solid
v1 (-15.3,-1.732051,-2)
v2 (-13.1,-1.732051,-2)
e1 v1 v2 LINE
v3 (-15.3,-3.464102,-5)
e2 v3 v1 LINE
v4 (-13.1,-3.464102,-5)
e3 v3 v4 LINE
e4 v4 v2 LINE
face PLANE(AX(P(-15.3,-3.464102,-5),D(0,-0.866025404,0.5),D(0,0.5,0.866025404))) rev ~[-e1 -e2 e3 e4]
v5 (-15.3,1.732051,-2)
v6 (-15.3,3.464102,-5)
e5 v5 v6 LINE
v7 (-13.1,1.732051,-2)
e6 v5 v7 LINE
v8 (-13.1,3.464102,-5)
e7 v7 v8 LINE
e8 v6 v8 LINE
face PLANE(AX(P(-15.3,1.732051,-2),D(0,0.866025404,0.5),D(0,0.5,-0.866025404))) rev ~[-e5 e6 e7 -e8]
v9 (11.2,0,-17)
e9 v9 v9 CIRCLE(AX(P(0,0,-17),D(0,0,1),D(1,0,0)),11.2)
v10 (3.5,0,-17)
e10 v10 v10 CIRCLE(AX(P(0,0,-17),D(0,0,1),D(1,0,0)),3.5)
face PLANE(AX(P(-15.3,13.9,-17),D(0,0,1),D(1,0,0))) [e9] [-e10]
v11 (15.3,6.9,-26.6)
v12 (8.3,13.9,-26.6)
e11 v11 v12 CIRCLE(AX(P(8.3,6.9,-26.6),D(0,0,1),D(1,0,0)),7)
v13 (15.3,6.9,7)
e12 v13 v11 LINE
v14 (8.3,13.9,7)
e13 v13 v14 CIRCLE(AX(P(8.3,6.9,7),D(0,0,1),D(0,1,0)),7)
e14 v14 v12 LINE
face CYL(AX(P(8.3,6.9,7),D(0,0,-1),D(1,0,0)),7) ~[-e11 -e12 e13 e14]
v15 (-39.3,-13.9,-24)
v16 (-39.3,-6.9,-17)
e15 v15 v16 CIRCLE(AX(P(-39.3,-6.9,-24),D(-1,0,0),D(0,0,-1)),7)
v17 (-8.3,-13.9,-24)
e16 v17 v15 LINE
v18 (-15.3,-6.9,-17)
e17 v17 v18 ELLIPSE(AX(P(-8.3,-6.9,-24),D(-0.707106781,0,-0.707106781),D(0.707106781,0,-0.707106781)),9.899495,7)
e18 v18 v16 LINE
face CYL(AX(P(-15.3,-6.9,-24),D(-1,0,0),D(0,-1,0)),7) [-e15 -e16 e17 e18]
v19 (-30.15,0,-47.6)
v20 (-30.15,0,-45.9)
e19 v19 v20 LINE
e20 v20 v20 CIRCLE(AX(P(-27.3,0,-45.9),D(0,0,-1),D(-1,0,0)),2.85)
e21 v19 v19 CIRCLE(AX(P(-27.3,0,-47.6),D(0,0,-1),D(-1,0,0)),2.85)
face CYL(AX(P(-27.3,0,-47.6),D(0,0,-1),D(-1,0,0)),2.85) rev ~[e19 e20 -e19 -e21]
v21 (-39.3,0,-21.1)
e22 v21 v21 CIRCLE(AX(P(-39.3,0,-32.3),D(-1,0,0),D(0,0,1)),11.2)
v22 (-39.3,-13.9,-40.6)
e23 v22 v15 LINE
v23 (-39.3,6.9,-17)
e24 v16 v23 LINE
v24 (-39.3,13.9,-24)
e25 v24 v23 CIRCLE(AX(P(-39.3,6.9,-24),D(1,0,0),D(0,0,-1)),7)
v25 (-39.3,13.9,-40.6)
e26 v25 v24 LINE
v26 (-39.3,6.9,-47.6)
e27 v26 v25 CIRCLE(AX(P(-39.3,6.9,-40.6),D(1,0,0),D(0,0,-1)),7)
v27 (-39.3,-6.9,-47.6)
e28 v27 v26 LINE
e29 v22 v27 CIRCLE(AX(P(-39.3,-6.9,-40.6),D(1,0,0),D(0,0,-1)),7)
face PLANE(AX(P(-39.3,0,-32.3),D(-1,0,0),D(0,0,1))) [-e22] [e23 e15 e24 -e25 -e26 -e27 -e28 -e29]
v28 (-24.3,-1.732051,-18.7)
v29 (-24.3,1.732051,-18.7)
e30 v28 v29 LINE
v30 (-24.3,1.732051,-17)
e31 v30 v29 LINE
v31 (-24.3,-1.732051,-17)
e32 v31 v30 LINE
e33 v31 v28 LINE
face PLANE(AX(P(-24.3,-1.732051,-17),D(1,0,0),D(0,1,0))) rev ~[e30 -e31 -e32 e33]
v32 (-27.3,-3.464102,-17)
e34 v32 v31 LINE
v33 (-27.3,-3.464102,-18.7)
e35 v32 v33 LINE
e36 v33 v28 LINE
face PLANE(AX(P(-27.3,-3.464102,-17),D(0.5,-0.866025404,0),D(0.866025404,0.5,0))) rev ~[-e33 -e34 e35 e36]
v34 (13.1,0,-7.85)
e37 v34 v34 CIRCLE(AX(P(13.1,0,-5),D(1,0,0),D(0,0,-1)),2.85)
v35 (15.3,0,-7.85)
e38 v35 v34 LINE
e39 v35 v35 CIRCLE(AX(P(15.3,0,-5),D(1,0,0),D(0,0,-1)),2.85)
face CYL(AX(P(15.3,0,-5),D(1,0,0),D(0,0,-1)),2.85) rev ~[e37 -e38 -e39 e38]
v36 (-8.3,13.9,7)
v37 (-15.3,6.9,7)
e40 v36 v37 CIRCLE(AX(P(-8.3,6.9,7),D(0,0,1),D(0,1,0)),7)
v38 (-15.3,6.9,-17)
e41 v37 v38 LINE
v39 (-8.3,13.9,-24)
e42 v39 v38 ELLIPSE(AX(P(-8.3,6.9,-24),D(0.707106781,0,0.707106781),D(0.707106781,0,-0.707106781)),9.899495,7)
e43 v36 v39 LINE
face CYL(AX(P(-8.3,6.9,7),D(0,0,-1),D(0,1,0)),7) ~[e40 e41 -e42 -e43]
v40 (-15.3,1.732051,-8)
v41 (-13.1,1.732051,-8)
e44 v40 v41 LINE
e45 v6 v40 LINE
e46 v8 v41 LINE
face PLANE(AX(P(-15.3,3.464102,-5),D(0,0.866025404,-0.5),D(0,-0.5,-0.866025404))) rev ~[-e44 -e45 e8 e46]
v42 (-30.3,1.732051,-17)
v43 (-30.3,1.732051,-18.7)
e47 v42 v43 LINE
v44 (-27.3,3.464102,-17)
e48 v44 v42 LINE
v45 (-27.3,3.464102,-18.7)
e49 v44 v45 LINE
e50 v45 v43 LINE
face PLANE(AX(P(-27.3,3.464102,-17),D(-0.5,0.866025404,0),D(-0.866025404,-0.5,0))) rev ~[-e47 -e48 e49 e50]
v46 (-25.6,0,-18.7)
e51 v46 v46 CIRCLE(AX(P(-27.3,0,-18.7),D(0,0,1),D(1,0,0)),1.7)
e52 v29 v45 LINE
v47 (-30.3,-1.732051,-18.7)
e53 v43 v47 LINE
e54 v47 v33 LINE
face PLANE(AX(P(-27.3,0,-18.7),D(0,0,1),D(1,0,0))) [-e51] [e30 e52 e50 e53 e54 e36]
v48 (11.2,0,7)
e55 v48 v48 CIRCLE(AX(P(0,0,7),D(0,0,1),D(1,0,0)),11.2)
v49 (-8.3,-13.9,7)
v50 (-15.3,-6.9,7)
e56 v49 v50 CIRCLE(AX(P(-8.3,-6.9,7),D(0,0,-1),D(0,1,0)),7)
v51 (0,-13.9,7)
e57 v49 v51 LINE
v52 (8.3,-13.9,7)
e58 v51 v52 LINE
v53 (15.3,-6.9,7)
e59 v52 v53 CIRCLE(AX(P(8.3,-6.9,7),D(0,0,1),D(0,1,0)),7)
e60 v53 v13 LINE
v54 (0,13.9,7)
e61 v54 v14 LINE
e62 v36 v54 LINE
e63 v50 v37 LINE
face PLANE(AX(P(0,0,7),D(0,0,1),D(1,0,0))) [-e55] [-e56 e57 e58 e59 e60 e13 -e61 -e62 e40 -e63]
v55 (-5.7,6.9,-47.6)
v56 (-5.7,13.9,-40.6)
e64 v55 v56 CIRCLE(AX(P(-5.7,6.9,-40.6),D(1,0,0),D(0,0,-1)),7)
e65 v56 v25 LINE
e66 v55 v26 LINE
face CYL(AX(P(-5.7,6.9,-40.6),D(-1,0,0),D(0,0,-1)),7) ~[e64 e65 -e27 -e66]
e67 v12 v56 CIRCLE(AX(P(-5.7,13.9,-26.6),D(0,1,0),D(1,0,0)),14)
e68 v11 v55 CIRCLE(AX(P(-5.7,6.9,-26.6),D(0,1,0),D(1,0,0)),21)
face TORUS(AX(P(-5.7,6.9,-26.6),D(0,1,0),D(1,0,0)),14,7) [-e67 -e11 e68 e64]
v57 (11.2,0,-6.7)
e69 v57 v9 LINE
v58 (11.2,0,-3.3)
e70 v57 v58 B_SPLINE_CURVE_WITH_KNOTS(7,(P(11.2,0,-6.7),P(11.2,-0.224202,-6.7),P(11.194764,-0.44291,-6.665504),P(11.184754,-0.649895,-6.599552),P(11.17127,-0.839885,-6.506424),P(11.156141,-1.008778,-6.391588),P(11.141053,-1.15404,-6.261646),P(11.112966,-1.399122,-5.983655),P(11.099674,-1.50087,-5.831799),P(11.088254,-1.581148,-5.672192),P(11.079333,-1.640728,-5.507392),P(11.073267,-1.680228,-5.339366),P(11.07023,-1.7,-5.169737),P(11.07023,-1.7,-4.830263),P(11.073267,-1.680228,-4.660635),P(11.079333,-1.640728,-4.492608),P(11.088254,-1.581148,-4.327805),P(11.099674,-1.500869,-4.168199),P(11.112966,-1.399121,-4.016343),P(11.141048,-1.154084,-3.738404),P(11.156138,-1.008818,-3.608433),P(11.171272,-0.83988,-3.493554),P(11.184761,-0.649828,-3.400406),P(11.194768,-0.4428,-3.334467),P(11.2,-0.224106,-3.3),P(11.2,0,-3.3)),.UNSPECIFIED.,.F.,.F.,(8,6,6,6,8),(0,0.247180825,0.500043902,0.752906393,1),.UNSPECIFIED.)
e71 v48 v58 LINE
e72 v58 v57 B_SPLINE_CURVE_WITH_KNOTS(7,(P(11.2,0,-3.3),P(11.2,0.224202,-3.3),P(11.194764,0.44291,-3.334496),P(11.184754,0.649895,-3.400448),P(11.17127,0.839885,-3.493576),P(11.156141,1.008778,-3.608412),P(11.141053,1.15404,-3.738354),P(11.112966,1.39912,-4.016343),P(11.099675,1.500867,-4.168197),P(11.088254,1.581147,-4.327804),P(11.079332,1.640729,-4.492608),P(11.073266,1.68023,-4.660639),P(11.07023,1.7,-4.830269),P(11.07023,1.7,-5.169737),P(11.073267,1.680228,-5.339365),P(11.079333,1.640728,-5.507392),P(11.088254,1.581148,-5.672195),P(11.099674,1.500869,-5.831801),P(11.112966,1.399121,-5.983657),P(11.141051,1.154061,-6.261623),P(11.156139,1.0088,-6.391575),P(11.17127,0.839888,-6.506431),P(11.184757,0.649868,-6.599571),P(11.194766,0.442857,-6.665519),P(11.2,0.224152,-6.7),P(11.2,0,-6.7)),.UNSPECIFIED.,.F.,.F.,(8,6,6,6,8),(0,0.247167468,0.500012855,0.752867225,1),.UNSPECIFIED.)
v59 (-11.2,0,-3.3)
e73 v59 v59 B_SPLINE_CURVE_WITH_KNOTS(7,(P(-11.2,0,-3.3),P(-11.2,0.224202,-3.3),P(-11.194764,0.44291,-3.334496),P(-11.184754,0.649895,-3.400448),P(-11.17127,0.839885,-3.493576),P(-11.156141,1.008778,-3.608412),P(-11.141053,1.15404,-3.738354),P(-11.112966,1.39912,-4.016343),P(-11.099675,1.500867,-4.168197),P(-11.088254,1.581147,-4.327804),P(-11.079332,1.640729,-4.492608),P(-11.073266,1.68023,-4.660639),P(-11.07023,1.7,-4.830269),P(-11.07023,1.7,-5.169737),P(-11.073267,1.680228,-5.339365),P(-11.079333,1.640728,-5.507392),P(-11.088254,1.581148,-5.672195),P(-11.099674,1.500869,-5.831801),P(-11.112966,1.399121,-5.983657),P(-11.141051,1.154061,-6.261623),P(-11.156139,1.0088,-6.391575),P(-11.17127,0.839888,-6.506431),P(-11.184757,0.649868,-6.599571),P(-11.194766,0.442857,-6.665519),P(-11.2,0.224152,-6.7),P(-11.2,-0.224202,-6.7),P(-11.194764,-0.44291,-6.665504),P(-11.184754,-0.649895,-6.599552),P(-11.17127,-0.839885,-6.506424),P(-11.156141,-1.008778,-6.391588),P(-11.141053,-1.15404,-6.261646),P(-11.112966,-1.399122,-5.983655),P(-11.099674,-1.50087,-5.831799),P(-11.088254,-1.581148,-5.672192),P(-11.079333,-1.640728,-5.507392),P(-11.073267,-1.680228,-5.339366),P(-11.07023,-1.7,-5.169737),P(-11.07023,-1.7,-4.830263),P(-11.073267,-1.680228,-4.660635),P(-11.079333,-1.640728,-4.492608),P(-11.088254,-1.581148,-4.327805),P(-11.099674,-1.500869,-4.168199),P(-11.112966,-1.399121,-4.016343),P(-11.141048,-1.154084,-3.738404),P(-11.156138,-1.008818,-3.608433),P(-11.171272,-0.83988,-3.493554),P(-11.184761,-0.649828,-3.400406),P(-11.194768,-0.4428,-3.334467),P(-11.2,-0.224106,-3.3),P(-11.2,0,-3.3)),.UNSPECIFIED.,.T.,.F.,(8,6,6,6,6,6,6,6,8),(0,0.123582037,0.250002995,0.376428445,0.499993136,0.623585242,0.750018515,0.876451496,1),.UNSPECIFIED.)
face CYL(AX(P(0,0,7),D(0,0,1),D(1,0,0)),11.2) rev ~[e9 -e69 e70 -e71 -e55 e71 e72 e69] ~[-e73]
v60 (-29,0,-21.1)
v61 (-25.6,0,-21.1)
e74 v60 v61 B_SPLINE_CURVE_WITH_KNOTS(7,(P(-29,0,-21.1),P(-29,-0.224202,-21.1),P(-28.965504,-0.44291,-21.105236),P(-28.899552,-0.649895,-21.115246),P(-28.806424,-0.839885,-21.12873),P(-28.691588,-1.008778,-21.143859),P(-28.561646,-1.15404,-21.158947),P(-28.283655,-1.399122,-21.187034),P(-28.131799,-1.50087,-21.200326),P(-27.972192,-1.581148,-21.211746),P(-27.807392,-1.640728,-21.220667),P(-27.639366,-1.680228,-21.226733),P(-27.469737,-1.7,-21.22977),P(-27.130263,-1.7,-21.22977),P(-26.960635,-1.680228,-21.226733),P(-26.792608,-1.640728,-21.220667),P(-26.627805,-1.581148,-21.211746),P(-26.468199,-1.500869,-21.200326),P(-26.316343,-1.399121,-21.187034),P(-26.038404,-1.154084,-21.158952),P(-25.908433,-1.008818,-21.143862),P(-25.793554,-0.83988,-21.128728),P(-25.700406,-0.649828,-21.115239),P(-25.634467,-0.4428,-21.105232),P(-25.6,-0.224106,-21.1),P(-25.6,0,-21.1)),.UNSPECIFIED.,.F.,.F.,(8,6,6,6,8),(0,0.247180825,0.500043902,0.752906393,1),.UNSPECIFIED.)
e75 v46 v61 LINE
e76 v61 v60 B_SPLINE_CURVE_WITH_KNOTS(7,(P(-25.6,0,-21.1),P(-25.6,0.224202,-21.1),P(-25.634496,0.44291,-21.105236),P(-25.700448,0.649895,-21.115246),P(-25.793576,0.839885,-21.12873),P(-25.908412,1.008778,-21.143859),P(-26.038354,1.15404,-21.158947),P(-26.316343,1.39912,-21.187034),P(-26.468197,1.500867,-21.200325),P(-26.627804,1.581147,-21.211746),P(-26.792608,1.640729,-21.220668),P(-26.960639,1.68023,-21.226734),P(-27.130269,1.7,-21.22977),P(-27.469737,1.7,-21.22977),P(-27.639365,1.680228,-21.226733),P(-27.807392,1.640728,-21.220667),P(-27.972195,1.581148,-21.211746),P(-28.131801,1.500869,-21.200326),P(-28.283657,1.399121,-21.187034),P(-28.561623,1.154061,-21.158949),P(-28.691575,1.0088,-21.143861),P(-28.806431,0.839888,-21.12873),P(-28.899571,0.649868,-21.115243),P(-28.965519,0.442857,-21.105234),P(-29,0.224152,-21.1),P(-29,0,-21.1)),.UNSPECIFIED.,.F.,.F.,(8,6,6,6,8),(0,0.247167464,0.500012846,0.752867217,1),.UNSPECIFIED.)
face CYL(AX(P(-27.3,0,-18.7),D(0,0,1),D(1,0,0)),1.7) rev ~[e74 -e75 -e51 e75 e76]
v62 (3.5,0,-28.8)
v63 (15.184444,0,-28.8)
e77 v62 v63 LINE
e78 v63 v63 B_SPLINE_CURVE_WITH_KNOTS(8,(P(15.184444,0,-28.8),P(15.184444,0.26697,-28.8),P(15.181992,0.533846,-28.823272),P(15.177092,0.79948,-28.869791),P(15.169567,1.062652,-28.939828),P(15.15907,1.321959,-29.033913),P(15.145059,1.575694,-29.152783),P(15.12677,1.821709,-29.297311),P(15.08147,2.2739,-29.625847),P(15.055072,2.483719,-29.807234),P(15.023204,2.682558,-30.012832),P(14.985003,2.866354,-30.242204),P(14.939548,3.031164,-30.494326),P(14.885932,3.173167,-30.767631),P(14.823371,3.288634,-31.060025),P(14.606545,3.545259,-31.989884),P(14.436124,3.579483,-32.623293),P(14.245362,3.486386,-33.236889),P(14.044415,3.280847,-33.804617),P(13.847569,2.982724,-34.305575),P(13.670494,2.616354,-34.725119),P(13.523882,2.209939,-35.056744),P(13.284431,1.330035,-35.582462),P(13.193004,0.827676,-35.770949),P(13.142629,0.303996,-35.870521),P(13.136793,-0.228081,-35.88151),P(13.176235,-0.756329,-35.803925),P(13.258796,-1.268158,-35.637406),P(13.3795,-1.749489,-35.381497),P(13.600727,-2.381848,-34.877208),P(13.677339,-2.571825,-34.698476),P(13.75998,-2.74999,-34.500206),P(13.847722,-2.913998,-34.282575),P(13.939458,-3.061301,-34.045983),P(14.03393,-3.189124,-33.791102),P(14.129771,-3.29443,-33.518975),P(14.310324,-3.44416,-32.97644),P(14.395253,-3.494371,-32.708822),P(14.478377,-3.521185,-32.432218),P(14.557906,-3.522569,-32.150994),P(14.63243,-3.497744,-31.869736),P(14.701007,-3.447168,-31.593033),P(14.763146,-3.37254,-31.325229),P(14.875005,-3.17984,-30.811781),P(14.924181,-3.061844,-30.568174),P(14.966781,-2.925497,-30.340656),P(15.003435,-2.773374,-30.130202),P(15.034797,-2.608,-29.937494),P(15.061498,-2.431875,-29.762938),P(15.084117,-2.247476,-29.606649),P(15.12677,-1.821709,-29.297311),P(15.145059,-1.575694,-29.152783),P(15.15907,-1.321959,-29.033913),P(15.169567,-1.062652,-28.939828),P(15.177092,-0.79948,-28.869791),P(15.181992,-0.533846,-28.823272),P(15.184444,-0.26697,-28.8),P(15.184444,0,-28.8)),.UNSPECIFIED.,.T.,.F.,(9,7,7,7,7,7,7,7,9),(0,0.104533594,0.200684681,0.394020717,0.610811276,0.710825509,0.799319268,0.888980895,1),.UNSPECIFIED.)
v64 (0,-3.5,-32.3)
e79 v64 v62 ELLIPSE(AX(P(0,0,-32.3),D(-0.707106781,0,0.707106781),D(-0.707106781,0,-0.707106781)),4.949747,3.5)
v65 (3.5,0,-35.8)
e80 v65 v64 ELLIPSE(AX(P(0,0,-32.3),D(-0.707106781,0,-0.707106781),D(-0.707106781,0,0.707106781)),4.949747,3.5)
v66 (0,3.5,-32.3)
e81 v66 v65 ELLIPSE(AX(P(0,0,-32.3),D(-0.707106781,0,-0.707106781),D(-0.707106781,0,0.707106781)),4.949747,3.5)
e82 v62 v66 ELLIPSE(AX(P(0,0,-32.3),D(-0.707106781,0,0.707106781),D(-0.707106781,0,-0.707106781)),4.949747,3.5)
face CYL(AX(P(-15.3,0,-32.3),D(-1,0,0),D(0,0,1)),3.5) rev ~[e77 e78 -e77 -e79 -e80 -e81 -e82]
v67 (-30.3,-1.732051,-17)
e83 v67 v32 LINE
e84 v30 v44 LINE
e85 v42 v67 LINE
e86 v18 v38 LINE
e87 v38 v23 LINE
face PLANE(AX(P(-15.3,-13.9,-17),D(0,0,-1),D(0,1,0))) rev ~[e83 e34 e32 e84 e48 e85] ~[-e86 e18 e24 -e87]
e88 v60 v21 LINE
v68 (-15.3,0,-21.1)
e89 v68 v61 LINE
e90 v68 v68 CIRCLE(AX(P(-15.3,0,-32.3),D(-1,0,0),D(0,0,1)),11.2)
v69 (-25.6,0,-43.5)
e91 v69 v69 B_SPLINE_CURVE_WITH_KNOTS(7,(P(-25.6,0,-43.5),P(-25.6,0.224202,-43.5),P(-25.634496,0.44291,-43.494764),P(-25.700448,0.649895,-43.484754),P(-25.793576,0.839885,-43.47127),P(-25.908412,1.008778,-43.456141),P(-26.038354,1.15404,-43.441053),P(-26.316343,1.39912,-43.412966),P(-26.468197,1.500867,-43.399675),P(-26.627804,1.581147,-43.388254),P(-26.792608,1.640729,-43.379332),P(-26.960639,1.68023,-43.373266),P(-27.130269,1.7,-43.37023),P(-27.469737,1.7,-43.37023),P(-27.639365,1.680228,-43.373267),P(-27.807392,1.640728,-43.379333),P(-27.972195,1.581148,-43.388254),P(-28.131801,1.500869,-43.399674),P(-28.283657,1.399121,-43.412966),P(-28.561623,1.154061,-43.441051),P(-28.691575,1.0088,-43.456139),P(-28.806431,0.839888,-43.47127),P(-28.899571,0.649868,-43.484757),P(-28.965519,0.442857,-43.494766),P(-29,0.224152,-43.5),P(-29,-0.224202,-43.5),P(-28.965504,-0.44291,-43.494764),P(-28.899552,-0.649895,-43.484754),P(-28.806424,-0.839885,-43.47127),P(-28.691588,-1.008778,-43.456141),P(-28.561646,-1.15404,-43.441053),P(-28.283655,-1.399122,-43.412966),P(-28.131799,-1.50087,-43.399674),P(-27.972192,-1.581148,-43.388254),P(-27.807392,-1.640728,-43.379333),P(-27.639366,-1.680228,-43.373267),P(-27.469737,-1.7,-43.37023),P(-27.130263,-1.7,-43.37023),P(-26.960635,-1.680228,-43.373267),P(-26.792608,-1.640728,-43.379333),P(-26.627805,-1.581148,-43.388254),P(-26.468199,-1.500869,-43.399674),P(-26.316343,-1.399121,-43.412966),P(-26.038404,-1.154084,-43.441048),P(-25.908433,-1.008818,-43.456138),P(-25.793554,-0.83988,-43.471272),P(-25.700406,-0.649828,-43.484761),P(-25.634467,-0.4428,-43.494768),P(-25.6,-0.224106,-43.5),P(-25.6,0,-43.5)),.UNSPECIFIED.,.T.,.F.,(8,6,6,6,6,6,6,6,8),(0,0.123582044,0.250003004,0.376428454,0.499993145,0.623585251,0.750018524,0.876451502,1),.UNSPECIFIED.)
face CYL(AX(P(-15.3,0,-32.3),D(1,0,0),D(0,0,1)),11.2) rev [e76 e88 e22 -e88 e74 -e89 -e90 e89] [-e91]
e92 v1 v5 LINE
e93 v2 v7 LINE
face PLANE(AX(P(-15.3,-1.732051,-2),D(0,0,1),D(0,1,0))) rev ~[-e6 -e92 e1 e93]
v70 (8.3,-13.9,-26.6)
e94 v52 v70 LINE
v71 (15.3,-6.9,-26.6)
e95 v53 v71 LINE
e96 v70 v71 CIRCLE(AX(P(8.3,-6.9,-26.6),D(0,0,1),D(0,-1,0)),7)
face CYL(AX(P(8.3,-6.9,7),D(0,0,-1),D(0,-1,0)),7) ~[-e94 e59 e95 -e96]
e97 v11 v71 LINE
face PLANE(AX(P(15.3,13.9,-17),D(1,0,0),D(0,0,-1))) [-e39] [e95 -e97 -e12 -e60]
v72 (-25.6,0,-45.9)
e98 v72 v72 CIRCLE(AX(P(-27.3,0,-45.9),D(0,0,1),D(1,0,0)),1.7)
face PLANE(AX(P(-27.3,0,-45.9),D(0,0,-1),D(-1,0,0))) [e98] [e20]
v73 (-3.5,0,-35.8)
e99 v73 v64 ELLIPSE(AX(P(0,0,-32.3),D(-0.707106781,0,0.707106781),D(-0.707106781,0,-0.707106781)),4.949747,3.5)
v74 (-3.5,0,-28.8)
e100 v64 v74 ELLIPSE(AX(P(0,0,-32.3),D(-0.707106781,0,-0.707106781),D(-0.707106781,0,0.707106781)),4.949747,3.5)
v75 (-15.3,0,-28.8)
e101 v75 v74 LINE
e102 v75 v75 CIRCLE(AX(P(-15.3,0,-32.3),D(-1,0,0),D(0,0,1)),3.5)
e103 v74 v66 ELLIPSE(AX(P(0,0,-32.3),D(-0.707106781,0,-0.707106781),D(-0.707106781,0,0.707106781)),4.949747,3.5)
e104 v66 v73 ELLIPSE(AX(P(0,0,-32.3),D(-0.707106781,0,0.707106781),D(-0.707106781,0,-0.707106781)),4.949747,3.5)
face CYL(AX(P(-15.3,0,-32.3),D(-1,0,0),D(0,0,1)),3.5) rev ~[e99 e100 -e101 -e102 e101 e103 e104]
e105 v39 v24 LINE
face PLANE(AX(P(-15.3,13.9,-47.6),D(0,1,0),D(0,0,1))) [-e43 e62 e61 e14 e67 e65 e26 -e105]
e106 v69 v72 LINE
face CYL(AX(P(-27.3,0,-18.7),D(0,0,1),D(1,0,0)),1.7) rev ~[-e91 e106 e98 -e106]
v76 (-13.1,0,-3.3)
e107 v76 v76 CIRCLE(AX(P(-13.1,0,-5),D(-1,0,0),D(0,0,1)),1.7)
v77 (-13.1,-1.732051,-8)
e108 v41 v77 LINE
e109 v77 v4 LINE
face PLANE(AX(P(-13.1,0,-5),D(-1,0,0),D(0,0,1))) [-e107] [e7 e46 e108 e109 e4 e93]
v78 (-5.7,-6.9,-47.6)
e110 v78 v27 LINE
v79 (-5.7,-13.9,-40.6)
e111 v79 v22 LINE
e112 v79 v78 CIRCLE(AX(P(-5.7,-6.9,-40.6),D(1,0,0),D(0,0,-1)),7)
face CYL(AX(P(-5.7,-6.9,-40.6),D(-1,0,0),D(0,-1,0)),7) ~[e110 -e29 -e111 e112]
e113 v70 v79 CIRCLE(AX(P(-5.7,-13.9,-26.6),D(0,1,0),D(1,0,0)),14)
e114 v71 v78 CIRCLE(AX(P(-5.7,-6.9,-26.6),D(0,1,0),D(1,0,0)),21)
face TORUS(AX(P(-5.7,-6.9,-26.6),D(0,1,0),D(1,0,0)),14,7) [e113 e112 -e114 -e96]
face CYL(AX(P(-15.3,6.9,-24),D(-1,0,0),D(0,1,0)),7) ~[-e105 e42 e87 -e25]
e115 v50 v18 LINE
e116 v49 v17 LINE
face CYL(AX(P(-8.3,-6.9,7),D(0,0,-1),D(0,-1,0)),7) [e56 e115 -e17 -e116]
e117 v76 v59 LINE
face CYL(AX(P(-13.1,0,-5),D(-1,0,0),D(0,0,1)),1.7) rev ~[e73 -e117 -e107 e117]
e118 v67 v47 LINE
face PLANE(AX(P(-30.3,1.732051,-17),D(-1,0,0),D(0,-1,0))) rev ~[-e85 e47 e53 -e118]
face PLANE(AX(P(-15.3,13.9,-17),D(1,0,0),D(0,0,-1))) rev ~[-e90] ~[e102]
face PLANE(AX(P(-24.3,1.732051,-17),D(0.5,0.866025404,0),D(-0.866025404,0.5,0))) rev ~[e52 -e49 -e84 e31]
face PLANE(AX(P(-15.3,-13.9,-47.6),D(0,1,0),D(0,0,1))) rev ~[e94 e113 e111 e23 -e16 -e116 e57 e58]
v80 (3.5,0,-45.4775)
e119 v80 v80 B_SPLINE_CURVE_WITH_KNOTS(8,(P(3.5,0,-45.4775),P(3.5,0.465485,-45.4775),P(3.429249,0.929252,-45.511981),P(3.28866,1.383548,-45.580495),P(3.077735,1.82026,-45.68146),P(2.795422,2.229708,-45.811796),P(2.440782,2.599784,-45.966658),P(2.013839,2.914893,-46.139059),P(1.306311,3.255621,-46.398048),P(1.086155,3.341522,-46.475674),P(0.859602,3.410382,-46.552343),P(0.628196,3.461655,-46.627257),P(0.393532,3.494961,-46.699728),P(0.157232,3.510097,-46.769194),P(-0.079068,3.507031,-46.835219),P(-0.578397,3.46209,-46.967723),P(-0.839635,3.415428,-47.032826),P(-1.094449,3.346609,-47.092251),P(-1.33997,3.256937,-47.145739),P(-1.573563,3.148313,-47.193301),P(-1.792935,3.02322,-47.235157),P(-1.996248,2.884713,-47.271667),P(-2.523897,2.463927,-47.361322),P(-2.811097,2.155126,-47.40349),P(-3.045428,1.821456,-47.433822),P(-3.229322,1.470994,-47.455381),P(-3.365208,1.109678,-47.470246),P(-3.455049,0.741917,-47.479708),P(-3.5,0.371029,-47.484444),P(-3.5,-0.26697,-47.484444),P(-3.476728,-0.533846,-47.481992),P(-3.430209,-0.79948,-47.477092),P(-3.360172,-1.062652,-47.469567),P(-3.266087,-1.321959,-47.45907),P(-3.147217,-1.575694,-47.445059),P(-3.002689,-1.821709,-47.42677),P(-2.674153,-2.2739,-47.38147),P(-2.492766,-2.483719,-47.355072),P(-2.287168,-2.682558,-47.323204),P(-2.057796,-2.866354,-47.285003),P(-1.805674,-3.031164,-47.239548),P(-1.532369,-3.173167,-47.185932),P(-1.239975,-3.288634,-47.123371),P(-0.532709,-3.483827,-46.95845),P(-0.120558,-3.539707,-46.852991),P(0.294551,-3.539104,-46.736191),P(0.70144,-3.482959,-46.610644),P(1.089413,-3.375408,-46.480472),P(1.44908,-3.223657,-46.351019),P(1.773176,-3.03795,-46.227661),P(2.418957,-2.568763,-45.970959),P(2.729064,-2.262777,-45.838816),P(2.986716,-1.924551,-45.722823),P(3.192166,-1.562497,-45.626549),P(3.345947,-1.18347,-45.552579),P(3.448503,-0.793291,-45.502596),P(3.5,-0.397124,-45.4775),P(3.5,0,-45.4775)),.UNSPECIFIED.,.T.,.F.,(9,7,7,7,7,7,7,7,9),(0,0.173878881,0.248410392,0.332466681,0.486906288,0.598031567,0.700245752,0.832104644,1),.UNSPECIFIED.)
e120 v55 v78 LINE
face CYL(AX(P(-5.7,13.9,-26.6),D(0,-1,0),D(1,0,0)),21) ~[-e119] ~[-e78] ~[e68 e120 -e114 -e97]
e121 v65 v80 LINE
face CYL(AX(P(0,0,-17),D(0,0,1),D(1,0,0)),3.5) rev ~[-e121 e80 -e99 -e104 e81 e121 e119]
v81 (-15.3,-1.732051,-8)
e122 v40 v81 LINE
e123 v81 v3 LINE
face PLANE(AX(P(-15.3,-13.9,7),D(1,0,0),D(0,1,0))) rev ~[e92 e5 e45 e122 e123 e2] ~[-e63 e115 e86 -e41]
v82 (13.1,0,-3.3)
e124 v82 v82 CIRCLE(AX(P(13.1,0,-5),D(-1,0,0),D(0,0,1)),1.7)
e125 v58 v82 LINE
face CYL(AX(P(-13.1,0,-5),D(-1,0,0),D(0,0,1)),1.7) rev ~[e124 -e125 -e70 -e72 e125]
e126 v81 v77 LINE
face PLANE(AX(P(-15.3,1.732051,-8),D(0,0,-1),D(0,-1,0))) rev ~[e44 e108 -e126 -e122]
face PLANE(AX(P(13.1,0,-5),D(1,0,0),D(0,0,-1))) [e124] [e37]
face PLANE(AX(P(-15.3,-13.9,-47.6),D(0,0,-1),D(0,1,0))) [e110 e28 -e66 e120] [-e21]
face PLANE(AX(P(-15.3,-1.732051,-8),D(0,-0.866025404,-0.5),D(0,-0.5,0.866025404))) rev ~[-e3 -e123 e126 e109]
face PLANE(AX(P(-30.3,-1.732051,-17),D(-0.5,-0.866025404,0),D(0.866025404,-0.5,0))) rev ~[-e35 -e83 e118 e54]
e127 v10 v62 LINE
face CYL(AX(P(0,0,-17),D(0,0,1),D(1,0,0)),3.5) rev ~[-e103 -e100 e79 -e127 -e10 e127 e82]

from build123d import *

# Parameters (mm, degrees)
SKETCH1_R           = 13.9
SKETCH1_R_2         = 11.2
BOSS_EXTRUDE1_DEPTH = 7
SKETCH2_W           = 30.6
SKETCH2_H           = 27.8
SKETCH2_R           = 11.2
BOSS_EXTRUDE2_DEPTH = 24
SKETCH6_W           = 30.6
SKETCH6_H           = 27.8
SKETCH6_R           = 11.2
BOSS_EXTRUDE6_DEPTH = 24
SKETCH7_W           = 30.6
SKETCH7_H           = 30.6
BOSS_EXTRUDE7_DEPTH = 27.8
FILLET1_R           = 21
FILLET2_R           = 7
SKETCH8_R           = 3.5
CUT_EXTRUDE1_DEPTH  = 31.6000001
SKETCH9_R           = 3.5
CUT_EXTRUDE2_DEPTH  = 31.6000001
CUT_EXTRUDE3_DEPTH  = 2.2
SKETCH12_R          = 1.7
CUT_EXTRUDE4_DEPTH  = 29.4000001
SKETCH13_R          = 2.85
CUT_EXTRUDE5_DEPTH  = 2.2
CUT_EXTRUDE6_DEPTH  = 1.7
SKETCH16_R          = 1.7
CUT_EXTRUDE7_DEPTH  = 29.9000001
SKETCH17_R          = 2.85
CUT_EXTRUDE8_DEPTH  = 1.7


with BuildPart() as part:
    # Sketch1 → Boss-Extrude1 (new body)
    with BuildSketch(Plane.XY):
        Circle(SKETCH1_R)
        Circle(SKETCH1_R_2, mode=Mode.SUBTRACT)
    extrude(amount=BOSS_EXTRUDE1_DEPTH)

    # Sketch2 → Boss-Extrude2 (add)
    with BuildSketch(Plane.XY.offset(7)):
        Rectangle(SKETCH2_W, SKETCH2_H)
        Circle(SKETCH2_R, mode=Mode.SUBTRACT)
    extrude(amount=-BOSS_EXTRUDE2_DEPTH)



with BuildPart() as body_2:
    # Sketch6 → Boss-Extrude6 (new body)
    with BuildSketch(Plane.ZY.offset(15.3)):
        with Locations((-32.3, 0)):
            Rectangle(SKETCH6_W, SKETCH6_H)
        with Locations((-32.3, 0)):
            Circle(SKETCH6_R, mode=Mode.SUBTRACT)
    extrude(amount=BOSS_EXTRUDE6_DEPTH)


with BuildPart() as part_1:
    add(part.part)

    add(body_2.part)  # Boss-Extrude7 merges body 2
    # Sketch7 → Boss-Extrude7 (add)
    with BuildSketch(Plane(origin=(0, 13.9, 0), x_dir=(1, 0, 0), z_dir=(0, 1, 0))):
        with Locations((0, 32.3)):
            Rectangle(SKETCH7_W, SKETCH7_H)
    extrude(amount=-BOSS_EXTRUDE7_DEPTH)

    # Fillet1
    fillet1_edges = [part_1.edges().sort_by_distance(p)[0] for p in [
        (15.3, 0, -47.6),
    ]]
    fillet(fillet1_edges, radius=FILLET1_R)

    # Fillet2
    fillet2_edges = [part_1.edges().sort_by_distance(p)[0] for p in [
        (-22.5, -13.9, -47.6),
        (-15.3, 13.9, -5),
        (-15.3, -13.9, -5),
        (-27.3, 13.9, -17),
        (-27.3, -13.9, -17),
        (15.3, -13.9, -9.8),
        (15.3, 13.9, -9.8),
        (-22.5, 13.9, -47.6),
        (9.149242405, 13.9, -41.449242405),
        (9.149242405, -13.9, -41.449242405),
    ]]
    fillet(fillet2_edges, radius=FILLET2_R)

    # Sketch8 → Cut-Extrude1 (cut, through all)
    with BuildSketch(Plane.ZY.offset(15.3)):
        with Locations((-32.3, 0)):
            Circle(SKETCH8_R)
    extrude(amount=-CUT_EXTRUDE1_DEPTH, mode=Mode.SUBTRACT)

    # Sketch9 → Cut-Extrude2 (cut, through all)
    with BuildSketch(Plane.XY.offset(-17)):
        Circle(SKETCH9_R)
    extrude(amount=-CUT_EXTRUDE2_DEPTH, mode=Mode.SUBTRACT)

    # Sketch11 → Cut-Extrude3 (cut)
    with BuildSketch(Plane.ZY.offset(15.3)):
        Polygon((-2, -1.732050808), (-2, 1.732050808), (-5, 3.464101615), (-8, 1.732050808), (-8, -1.732050808), (-5, -3.464101615), align=None)
    extrude(amount=-CUT_EXTRUDE3_DEPTH, mode=Mode.SUBTRACT)

    # Sketch12 → Cut-Extrude4 (cut, through all)
    with BuildSketch(Plane.ZY.offset(13.1)):
        with Locations((-5, 0)):
            Circle(SKETCH12_R)
    extrude(amount=-CUT_EXTRUDE4_DEPTH, mode=Mode.SUBTRACT)

    # Sketch13 → Cut-Extrude5 (cut)
    with BuildSketch(Plane(origin=(15.3, 0, 0), x_dir=(0, 0, -1), z_dir=(1, 0, 0))):
        with Locations((5, 0)):
            Circle(SKETCH13_R)
    extrude(amount=-CUT_EXTRUDE5_DEPTH, mode=Mode.SUBTRACT)

    # Sketch15 → Cut-Extrude6 (cut)
    with BuildSketch(Plane.XY.offset(-17)):
        Polygon((-24.3, -1.732050808), (-24.3, 1.732050808), (-27.3, 3.464101615), (-30.3, 1.732050808), (-30.3, -1.732050808), (-27.3, -3.464101615), align=None)
    extrude(amount=-CUT_EXTRUDE6_DEPTH, mode=Mode.SUBTRACT)

    # Sketch16 → Cut-Extrude7 (cut, through all)
    with BuildSketch(Plane.XY.offset(-18.7)):
        with Locations((-27.3, 0)):
            Circle(SKETCH16_R)
    extrude(amount=-CUT_EXTRUDE7_DEPTH, mode=Mode.SUBTRACT)

    # Sketch17 → Cut-Extrude8 (cut)
    with BuildSketch(Plane(origin=(0, 0, -47.6), x_dir=(-1, 0, 0), z_dir=(0, 0, -1))):
        with Locations((27.3, 0)):
            Circle(SKETCH17_R)
    extrude(amount=-CUT_EXTRUDE8_DEPTH, mode=Mode.SUBTRACT)


solid = part_1.part
